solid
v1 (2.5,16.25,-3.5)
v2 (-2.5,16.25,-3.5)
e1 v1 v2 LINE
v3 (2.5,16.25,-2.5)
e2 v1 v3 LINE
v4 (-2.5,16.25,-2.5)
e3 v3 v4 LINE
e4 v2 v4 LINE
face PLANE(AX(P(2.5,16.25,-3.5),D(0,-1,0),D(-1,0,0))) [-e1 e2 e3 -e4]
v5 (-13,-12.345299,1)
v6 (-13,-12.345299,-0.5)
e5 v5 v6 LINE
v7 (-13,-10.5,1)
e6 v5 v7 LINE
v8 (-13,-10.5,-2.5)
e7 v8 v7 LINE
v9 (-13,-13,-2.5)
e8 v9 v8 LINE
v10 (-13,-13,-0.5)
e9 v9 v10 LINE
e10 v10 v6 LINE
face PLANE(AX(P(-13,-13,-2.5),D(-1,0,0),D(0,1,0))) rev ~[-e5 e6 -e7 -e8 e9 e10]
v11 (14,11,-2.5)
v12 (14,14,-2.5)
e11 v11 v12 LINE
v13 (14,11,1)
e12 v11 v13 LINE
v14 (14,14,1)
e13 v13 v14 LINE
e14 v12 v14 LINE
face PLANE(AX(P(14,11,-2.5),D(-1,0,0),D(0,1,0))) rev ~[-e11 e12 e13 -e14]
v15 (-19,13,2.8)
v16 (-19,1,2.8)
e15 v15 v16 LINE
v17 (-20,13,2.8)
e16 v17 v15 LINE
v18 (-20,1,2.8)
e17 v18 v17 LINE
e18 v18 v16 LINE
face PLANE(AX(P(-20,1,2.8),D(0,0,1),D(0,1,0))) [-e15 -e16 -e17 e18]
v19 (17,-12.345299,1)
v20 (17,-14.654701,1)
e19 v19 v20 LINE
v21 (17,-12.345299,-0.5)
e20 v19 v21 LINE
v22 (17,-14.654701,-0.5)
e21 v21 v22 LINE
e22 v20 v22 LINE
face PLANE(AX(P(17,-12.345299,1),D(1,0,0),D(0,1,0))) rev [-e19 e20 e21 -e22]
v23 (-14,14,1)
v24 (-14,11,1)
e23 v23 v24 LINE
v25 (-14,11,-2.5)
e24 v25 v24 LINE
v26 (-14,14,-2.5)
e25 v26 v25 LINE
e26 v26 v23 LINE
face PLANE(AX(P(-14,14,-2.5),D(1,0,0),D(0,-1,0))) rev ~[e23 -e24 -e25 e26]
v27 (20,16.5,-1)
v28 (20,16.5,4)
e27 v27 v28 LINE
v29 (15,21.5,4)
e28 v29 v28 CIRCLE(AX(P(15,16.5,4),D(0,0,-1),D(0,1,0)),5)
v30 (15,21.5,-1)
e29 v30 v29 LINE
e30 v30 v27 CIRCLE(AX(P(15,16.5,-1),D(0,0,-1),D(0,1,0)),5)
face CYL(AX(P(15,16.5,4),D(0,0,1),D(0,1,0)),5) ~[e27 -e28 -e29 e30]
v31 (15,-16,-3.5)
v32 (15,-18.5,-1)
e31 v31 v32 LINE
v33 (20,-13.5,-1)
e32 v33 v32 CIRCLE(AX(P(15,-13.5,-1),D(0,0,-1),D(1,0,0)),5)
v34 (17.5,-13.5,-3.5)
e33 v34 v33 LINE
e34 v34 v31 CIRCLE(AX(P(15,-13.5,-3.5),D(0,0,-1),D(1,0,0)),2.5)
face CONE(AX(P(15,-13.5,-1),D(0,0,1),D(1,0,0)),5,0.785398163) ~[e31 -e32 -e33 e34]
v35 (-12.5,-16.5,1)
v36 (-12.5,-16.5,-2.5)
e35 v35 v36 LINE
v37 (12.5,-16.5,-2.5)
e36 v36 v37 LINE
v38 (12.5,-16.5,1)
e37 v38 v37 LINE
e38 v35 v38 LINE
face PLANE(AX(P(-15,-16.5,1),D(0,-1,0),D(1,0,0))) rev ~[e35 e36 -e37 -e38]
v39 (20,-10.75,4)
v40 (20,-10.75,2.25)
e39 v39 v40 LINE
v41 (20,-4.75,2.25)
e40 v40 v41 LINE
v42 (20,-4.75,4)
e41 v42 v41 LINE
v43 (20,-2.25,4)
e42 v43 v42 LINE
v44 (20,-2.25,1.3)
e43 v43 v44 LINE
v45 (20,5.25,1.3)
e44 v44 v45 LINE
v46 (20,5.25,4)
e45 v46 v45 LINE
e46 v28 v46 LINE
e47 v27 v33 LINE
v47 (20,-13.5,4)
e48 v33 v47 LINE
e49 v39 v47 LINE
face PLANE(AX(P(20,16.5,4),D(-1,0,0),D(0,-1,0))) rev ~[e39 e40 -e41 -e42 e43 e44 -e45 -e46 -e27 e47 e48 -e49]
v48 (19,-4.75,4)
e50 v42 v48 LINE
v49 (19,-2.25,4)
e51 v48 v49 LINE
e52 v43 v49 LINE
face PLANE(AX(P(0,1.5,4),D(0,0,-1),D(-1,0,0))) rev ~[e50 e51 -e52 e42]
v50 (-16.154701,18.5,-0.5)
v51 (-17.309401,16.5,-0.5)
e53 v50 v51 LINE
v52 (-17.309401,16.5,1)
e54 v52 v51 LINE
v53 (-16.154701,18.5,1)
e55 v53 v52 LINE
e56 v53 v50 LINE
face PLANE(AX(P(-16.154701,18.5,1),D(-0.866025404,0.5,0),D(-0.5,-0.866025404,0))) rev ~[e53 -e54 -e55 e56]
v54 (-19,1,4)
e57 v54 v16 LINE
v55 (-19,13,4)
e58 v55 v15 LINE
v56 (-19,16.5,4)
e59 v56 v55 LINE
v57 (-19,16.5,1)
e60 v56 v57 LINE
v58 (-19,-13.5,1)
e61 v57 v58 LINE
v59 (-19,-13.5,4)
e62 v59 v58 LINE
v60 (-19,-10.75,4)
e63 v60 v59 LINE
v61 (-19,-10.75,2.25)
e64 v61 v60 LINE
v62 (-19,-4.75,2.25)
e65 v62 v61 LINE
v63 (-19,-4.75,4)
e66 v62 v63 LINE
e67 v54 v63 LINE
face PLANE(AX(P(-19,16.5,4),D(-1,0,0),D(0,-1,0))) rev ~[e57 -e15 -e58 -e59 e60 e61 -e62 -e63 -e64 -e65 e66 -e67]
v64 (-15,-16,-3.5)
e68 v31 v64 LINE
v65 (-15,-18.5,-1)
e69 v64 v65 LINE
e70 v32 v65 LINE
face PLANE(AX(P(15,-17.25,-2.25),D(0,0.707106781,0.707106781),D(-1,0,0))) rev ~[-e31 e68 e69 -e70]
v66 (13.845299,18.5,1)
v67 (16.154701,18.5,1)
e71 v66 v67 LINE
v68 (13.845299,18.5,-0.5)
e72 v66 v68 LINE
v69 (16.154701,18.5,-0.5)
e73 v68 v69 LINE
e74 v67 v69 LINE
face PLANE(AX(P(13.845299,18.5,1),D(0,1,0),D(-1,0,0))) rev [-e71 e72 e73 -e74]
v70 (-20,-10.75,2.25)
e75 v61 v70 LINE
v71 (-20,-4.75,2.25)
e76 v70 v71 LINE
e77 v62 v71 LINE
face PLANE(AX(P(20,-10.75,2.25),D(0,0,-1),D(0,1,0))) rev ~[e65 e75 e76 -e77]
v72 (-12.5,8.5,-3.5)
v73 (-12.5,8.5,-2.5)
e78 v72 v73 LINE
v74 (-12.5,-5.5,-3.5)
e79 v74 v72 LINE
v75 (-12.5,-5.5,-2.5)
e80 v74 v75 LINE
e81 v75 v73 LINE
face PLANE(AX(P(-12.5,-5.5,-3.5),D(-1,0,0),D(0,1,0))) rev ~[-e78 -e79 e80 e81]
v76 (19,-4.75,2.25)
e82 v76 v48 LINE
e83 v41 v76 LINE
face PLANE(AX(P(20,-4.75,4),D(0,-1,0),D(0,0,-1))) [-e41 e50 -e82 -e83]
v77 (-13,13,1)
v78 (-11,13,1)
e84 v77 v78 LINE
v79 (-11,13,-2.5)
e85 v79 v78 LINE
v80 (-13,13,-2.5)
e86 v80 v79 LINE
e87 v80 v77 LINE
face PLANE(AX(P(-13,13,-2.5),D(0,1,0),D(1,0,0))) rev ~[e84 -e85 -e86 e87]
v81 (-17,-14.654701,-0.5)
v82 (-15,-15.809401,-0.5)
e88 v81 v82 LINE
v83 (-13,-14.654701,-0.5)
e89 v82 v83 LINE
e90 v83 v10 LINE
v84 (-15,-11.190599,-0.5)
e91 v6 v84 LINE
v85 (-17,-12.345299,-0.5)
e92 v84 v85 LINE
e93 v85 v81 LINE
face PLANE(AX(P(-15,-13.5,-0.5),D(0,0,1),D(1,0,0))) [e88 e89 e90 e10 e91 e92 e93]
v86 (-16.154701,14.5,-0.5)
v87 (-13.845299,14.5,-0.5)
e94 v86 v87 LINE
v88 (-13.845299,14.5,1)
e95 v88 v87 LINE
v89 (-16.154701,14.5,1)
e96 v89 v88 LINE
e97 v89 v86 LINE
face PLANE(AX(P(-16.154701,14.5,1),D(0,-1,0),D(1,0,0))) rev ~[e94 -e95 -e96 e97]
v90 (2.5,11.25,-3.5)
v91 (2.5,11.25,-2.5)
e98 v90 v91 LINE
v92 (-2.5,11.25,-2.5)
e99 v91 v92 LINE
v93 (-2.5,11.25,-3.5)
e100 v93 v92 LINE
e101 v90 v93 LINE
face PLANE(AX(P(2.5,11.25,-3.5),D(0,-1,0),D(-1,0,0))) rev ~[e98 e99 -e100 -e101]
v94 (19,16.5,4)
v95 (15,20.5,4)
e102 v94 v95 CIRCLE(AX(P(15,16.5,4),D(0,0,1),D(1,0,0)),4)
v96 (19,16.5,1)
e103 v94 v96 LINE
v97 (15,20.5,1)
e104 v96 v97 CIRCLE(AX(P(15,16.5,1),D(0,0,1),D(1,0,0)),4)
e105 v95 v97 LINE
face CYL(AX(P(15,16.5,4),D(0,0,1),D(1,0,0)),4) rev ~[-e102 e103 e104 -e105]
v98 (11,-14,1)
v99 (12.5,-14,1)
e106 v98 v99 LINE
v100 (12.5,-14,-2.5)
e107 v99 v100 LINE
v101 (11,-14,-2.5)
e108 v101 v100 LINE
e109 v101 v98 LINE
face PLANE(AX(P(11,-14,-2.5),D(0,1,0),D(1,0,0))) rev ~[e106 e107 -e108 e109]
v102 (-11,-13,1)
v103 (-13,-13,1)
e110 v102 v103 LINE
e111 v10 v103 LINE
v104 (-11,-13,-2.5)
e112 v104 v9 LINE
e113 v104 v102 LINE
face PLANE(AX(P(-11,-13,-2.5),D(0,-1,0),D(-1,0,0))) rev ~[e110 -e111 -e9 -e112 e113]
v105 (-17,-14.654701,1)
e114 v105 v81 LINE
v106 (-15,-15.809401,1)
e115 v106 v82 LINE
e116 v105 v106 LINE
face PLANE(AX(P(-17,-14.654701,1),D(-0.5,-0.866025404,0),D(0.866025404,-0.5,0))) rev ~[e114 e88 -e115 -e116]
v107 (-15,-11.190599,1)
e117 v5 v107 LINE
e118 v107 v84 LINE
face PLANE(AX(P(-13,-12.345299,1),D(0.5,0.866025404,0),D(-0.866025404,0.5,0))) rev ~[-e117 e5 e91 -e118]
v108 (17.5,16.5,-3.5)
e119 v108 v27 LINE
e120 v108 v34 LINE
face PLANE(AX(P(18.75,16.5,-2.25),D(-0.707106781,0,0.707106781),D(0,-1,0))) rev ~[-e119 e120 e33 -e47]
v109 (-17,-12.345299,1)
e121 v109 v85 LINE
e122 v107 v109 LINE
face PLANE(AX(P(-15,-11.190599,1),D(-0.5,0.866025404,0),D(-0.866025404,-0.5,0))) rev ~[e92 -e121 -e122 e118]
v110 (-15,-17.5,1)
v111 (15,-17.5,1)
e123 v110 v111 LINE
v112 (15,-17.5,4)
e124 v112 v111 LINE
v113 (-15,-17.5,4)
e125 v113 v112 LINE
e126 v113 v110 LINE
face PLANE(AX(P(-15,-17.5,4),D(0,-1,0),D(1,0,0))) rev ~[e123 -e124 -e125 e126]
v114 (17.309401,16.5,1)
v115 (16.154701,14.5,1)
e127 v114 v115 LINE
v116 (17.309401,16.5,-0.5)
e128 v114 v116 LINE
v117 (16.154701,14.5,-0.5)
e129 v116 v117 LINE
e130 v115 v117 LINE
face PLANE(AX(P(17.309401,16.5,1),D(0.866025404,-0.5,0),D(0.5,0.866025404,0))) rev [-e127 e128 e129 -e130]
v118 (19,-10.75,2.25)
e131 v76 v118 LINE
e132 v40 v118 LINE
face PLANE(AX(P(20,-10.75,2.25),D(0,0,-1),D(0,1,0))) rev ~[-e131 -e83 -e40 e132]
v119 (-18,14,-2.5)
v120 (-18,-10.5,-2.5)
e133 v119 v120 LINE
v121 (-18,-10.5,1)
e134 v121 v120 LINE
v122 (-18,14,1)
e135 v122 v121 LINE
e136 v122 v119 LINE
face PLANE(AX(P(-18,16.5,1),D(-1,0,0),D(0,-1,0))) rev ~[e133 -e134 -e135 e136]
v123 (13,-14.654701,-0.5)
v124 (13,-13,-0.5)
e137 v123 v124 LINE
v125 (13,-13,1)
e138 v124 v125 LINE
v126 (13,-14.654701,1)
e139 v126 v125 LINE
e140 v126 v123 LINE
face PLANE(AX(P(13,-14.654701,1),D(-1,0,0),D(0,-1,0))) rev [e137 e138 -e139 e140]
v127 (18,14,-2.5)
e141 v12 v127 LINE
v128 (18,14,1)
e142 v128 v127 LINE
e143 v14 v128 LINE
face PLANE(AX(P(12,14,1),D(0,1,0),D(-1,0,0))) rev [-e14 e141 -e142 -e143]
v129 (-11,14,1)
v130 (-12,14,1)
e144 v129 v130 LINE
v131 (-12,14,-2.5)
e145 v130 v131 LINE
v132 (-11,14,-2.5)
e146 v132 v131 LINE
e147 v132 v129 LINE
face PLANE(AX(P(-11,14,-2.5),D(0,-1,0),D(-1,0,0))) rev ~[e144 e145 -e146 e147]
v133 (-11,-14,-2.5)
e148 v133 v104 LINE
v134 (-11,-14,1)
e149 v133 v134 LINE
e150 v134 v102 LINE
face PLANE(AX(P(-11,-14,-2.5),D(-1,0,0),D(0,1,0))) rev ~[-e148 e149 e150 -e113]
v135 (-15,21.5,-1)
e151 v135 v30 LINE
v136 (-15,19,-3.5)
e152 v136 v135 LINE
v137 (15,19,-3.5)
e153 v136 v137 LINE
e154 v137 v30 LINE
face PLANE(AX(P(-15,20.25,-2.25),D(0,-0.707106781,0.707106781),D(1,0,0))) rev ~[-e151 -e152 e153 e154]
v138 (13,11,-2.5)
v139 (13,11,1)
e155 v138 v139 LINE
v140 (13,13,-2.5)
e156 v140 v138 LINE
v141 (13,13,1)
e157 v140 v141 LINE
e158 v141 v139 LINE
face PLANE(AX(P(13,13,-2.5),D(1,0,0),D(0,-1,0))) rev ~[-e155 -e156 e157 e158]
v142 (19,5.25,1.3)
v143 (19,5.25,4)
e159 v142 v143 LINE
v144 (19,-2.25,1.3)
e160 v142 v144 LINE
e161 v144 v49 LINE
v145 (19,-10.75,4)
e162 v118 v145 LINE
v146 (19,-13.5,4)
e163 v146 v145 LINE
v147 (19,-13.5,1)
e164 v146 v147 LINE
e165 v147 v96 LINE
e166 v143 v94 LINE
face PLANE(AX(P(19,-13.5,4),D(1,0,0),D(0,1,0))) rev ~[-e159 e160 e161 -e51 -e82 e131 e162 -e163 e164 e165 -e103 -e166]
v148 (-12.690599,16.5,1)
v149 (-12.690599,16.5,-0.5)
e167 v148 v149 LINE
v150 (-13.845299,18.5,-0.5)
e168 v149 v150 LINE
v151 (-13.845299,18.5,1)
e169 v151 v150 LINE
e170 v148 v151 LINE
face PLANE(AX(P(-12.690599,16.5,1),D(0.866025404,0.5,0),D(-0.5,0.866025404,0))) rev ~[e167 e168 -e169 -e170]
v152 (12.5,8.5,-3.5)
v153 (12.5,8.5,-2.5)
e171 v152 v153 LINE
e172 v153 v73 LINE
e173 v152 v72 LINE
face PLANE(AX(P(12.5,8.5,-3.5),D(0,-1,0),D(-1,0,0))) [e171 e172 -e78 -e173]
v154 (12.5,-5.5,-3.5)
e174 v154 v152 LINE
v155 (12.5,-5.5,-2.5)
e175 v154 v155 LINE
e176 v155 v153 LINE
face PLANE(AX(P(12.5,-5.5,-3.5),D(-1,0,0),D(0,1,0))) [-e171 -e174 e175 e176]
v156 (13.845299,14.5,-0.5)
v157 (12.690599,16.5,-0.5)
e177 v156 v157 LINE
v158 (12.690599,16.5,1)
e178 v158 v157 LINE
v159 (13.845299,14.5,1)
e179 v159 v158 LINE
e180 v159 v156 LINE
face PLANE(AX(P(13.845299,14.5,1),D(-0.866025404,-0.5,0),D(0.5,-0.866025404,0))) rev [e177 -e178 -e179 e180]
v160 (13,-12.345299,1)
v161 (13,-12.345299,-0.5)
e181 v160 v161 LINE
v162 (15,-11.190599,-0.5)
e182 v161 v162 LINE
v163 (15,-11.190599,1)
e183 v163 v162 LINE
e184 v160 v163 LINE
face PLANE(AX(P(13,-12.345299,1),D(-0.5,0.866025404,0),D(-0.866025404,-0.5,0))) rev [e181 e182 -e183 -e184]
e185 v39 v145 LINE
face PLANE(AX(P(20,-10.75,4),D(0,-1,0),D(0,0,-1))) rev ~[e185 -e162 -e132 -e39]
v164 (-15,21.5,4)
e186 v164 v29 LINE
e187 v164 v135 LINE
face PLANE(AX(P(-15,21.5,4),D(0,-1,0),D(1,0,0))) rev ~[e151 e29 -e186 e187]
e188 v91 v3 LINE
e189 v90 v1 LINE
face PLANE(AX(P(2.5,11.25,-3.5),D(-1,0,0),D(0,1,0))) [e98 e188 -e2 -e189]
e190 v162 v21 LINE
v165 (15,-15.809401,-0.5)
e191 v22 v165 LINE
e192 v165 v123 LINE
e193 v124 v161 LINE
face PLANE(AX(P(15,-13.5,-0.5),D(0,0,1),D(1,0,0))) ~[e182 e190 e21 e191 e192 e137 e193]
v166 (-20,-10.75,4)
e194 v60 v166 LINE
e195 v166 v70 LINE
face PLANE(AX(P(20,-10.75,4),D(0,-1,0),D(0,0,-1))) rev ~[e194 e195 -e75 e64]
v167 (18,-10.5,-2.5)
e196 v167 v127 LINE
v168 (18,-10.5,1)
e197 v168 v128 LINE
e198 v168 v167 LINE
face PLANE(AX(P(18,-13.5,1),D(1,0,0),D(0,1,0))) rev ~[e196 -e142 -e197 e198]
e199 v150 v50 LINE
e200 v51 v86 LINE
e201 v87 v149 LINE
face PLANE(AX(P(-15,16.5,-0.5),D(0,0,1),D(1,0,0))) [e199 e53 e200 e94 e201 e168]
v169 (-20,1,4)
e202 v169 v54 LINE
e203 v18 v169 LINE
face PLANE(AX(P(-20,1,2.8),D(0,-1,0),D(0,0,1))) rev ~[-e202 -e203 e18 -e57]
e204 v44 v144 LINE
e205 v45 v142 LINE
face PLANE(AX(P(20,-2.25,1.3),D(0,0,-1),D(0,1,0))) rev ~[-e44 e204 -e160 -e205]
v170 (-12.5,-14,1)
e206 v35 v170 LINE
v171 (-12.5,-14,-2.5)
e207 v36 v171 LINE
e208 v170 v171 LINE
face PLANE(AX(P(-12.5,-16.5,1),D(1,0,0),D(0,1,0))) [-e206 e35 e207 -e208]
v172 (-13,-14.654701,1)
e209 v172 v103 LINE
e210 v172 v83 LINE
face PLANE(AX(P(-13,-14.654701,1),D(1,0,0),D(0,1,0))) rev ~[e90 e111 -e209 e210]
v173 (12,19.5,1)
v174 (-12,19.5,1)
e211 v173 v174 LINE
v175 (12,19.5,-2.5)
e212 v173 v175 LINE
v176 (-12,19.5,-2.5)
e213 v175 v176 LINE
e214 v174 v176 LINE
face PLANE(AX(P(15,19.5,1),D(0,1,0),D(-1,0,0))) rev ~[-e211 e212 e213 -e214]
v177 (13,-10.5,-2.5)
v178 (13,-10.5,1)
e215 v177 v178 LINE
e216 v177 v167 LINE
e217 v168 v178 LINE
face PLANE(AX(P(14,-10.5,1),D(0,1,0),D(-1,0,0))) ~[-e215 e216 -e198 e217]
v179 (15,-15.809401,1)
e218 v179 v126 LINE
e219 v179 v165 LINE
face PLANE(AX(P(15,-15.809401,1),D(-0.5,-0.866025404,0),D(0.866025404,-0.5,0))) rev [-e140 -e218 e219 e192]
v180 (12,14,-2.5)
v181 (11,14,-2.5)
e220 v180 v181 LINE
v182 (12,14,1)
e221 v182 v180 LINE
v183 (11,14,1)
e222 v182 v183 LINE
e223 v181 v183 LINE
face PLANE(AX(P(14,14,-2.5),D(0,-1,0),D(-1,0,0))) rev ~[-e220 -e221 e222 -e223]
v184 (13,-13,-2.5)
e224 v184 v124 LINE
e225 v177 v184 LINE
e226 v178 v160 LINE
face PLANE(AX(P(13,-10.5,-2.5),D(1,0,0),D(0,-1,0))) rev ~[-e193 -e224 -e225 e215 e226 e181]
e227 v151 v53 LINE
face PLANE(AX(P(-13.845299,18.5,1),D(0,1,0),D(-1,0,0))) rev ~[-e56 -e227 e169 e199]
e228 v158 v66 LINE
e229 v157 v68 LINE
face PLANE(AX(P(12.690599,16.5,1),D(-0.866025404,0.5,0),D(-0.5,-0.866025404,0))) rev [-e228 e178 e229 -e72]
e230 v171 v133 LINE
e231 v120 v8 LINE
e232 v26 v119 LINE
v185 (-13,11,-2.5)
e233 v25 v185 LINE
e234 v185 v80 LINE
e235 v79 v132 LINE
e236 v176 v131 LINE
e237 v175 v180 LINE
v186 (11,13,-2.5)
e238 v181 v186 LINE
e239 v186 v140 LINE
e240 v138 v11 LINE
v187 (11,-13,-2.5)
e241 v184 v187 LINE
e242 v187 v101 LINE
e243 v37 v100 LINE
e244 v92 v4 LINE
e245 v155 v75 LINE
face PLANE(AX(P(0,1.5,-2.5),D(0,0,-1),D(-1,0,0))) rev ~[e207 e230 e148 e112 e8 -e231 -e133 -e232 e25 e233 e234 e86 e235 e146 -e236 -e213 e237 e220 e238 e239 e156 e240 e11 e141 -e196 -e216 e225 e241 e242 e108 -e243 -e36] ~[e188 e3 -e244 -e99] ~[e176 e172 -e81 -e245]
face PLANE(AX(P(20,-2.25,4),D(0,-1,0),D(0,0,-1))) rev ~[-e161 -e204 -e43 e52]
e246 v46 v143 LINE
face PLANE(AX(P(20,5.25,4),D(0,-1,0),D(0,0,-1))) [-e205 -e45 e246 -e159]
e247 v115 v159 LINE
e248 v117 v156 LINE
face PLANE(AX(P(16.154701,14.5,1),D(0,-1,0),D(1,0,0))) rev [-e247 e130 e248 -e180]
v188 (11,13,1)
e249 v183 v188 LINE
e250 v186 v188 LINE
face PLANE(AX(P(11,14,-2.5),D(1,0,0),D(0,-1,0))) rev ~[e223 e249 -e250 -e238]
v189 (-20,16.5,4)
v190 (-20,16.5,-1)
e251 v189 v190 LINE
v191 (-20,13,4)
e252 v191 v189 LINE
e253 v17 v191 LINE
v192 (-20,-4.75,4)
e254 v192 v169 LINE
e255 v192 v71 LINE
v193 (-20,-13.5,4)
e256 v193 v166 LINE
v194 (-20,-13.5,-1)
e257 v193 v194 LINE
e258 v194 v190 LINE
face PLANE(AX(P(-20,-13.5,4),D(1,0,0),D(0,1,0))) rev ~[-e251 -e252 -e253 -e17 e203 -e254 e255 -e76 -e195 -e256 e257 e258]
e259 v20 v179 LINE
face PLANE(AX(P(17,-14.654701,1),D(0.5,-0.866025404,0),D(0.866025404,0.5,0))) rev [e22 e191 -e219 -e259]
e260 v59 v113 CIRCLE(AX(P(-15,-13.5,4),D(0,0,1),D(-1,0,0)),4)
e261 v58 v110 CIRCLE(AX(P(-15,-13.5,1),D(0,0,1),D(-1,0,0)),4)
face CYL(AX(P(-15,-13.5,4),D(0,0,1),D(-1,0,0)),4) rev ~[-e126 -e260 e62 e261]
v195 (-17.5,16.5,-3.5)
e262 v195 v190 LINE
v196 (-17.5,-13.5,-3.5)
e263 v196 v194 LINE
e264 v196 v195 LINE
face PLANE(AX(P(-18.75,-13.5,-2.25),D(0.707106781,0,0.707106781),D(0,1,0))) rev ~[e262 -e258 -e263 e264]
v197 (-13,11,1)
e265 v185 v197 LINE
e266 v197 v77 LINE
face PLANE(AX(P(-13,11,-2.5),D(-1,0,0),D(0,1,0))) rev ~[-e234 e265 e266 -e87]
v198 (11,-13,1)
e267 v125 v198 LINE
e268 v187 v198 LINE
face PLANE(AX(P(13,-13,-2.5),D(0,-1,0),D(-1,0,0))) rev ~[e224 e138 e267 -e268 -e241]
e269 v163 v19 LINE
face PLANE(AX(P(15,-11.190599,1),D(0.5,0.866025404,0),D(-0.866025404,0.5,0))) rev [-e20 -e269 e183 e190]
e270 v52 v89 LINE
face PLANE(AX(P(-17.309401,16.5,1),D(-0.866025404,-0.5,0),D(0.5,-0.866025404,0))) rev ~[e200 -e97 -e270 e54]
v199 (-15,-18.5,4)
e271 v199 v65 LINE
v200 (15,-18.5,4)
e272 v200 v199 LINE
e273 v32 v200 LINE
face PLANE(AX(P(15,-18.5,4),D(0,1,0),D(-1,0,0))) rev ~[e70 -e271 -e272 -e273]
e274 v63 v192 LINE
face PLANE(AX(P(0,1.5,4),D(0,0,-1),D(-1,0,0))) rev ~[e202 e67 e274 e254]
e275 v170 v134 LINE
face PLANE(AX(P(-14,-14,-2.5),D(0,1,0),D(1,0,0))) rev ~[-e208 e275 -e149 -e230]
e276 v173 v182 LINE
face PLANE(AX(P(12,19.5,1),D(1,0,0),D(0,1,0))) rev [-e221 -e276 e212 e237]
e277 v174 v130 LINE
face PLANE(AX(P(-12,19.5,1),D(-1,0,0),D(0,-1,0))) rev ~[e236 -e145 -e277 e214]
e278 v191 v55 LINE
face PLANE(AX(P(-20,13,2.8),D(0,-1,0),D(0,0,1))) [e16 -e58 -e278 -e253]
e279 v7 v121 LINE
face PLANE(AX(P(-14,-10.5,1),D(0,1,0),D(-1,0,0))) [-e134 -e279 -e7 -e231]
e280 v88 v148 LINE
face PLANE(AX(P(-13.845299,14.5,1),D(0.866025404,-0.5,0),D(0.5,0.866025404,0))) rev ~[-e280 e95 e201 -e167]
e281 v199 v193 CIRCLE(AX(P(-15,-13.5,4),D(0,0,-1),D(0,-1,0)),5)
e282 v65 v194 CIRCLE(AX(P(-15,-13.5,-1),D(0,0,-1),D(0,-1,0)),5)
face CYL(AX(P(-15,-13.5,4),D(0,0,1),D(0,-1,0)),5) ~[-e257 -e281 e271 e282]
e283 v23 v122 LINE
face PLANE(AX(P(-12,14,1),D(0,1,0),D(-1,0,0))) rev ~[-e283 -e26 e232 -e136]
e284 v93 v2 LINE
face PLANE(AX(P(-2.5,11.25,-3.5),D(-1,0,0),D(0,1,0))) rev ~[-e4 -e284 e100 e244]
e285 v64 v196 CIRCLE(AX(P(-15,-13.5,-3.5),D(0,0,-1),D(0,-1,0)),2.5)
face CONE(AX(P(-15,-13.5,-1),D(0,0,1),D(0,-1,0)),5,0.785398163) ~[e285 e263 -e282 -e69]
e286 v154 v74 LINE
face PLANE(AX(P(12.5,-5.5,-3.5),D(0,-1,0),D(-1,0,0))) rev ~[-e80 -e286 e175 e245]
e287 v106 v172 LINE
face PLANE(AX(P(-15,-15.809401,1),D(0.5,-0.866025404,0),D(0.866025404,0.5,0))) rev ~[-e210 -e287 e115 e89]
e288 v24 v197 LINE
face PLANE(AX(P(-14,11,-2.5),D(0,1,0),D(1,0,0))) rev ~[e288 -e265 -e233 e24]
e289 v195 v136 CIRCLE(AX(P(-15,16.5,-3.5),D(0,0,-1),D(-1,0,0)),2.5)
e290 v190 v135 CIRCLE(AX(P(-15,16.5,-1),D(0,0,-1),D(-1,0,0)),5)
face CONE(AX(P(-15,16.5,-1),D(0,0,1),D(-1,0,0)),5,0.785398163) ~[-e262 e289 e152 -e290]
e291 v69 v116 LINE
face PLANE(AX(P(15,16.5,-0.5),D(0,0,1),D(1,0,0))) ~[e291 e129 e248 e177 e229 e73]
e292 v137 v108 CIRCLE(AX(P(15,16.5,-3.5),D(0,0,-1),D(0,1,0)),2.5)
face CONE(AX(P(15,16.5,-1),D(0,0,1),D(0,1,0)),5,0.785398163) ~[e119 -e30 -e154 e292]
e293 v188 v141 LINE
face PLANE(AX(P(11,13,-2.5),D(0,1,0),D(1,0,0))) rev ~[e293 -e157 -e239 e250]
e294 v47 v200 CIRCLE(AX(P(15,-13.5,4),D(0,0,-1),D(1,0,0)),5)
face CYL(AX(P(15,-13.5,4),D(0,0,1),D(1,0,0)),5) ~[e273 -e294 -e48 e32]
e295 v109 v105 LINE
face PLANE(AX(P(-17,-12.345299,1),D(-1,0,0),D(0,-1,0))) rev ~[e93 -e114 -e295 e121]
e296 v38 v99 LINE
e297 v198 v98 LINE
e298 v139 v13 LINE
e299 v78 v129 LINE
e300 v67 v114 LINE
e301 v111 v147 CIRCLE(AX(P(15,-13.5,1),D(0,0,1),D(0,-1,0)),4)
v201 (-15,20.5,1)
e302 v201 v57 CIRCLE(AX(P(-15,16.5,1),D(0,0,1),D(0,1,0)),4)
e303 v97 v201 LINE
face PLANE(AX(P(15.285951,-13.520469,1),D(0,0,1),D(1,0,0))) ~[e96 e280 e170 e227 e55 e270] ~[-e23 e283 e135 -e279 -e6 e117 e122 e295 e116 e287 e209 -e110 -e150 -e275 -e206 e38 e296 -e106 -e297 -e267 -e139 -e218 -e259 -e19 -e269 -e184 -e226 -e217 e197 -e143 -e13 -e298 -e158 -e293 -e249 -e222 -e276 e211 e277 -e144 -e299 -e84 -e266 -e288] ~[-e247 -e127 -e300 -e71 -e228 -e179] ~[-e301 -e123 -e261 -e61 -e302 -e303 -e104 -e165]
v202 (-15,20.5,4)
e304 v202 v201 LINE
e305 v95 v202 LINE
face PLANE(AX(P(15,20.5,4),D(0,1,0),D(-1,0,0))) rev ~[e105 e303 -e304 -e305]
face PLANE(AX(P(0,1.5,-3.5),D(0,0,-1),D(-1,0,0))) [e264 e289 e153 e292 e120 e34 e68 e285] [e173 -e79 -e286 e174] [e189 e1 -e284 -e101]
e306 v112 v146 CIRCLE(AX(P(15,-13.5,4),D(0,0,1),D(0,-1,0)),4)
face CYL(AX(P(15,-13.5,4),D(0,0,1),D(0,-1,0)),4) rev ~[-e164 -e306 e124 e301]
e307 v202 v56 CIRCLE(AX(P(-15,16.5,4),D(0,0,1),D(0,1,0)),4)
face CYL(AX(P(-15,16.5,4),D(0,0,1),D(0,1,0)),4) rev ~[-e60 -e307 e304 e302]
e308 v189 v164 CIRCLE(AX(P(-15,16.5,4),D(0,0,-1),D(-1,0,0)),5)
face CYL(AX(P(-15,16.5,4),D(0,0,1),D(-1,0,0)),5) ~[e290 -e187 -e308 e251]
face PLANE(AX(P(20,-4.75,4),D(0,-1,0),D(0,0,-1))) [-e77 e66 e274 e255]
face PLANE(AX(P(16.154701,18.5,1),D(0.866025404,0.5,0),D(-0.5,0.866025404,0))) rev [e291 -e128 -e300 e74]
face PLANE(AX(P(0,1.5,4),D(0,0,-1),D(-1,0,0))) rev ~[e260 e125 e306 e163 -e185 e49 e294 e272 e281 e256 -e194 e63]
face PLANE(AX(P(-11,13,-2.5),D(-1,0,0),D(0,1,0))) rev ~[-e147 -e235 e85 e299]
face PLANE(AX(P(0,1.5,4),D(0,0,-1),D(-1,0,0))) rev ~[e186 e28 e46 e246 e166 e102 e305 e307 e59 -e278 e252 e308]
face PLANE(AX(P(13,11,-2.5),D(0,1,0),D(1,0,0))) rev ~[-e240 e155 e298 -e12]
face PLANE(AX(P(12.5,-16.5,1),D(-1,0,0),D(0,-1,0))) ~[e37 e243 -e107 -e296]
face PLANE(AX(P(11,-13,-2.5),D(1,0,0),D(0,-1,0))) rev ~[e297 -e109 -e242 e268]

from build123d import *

# Parameters (mm, degrees)
EXTRUDE_1_DEPTH     = 1
SKETCH_3_W          = 25
SKETCH_3_H          = 14
CUT_EXTRUDE_1_DEPTH = 30.381116385
EXTRUDE_START       = 6.5
EXTRUDE_2_DEPTH     = 6.5
EXTRUDE_START_2     = 3.5
EXTRUDE_3_DEPTH     = 3.5
EXTRUDE_4_DEPTH     = 3.5
CHAMFER_1_SIZE      = 2.5
EXTRUDE_5_DEPTH     = 3.5
EXTRUDE_6_DEPTH     = 3.5
CUT_EXTRUDE_2_DEPTH = 1.5
CUT_EXTRUDE_3_DEPTH = 1.5
CUT_EXTRUDE_4_REACH = 47.588
SKETCH_12_W         = 1.75
SKETCH_12_H         = 6
SKETCH_12_W_2       = 2.7
SKETCH_12_H_2       = 7.5
CUT_EXTRUDE_5_REACH = 47.588
SKETCH_13_W         = 1.2
SKETCH_13_H         = 12
SKETCH_14_W         = 5
SKETCH_14_H         = 5
CUT_EXTRUDE_6_DEPTH = 1.5
SKETCH_12_2_W       = 1.75
SKETCH_12_2_H       = 6
CUT_EXTRUDE_7_DEPTH = 46.587827323


with BuildPart() as part:
    # 草圖2 → 填料-伸長1 (new body)
    with BuildSketch(Plane(origin=(0, 0, -2.5), x_dir=(-1, 0, 0), z_dir=(0, 0, -1))):
        with BuildLine():
            Line((-15, -18.5), (15, -18.5))
            ThreePointArc((15, -18.5), (18.535533906, -17.035533906), (20, -13.5))
            Line((20, -13.5), (20, 16.5))
            ThreePointArc((20, 16.5), (18.535533906, 20.035533906), (15, 21.5))
            Line((15, 21.5), (-15, 21.5))
            ThreePointArc((-15, 21.5), (-18.535533906, 20.035533906), (-20, 16.5))
            Line((-20, 16.5), (-20, -13.5))
            ThreePointArc((-20, -13.5), (-18.535533906, -17.035533906), (-15, -18.5))
        make_face()
    extrude(amount=EXTRUDE_1_DEPTH)

    # 草圖3 → 除料-伸長1 (cut, through all)
    with BuildSketch(Plane(origin=(0, 0, -3.5), x_dir=(-1, 0, 0), z_dir=(0, 0, -1))):
        with Locations((0, 1.5)):
            Rectangle(SKETCH_3_W, SKETCH_3_H)
    extrude(amount=-CUT_EXTRUDE_1_DEPTH, mode=Mode.SUBTRACT)

    # 草圖4 → 填料-伸長2 (add)
    with BuildSketch(Plane.XY.offset(-2.5).offset(EXTRUDE_START)):
        with BuildLine():
            Line((15, -18.5), (-15, -18.5))
            ThreePointArc((-15, -18.5), (-18.535533906, -17.035533906), (-20, -13.5))
            Line((-20, -13.5), (-20, 16.5))
            ThreePointArc((-20, 16.5), (-18.535533906, 20.035533906), (-15, 21.5))
            Line((-15, 21.5), (15, 21.5))
            ThreePointArc((15, 21.5), (18.535533906, 20.035533906), (20, 16.5))
            Line((20, 16.5), (20, -13.5))
            ThreePointArc((20, -13.5), (18.535533906, -17.035533906), (15, -18.5))
        make_face()
        with BuildLine():
            Line((19, -13.5), (19, 16.5))
            ThreePointArc((19, 16.5), (17.828427125, 19.328427125), (15, 20.5))
            Line((15, 20.5), (-15, 20.5))
            ThreePointArc((-15, 20.5), (-17.828427125, 19.328427125), (-19, 16.5))
            Line((-19, 16.5), (-19, -13.5))
            ThreePointArc((-19, -13.5), (-17.828427125, -16.328427125), (-15, -17.5))
            Line((-15, -17.5), (15, -17.5))
            ThreePointArc((15, -17.5), (17.828427125, -16.328427125), (19, -13.5))
        make_face(mode=Mode.SUBTRACT)
    extrude(amount=-EXTRUDE_2_DEPTH)

    # 草圖5 → 填料-伸長3 (add)
    with BuildSketch(Plane.XY.offset(-2.5).offset(EXTRUDE_START_2)):
        with BuildLine():
            Line((19, -13.5), (19, 16.5))
            ThreePointArc((19, 16.5), (17.828427125, 19.328427125), (15, 20.5))
            Line((15, 20.5), (-15, 20.5))
            ThreePointArc((-15, 20.5), (-17.828427125, 19.328427125), (-19, 16.5))
            Line((-19, 16.5), (-19, -13.5))
            ThreePointArc((-19, -13.5), (-17.828427125, -16.328427125), (-15, -17.5))
            Line((-15, -17.5), (15, -17.5))
            ThreePointArc((15, -17.5), (17.828427125, -16.328427125), (19, -13.5))
        make_face()
        with BuildLine():
            Line((18, -13.5), (18, 16.5))
            ThreePointArc((18, 16.5), (17.121320344, 18.621320344), (15, 19.5))
            Line((15, 19.5), (-15, 19.5))
            ThreePointArc((-15, 19.5), (-17.121320344, 18.621320344), (-18, 16.5))
            Line((-18, 16.5), (-18, -13.5))
            ThreePointArc((-18, -13.5), (-17.121320344, -15.621320344), (-15, -16.5))
            Line((-15, -16.5), (15, -16.5))
            ThreePointArc((15, -16.5), (17.121320344, -15.621320344), (18, -13.5))
        make_face(mode=Mode.SUBTRACT)
    extrude(amount=-EXTRUDE_3_DEPTH)

    # 草圖6 → 填料-伸長4 (add)
    with BuildSketch(Plane.XY.offset(-2.5)):
        Polygon((14, -14), (14, -10.5), (13, -10.5), (13, -13), (11, -13), (11, -14), align=None)
        Polygon((14, 14), (11, 14), (11, 13), (13, 13), (13, 11), (14, 11), align=None)
        Polygon((-14, 14), (-14, 11), (-13, 11), (-13, 13), (-11, 13), (-11, 14), align=None)
        Polygon((-14, -14), (-11, -14), (-11, -13), (-13, -13), (-13, -10.5), (-14, -10.5), align=None)
    extrude(amount=EXTRUDE_4_DEPTH)

    # 導角1
    chamfer_1_edges = [part.edges().sort_by_distance(p)[0] for p in [
        (18.535533906, -17.035533906, -3.5),
        (0, -18.5, -3.5),
        (-18.535533906, -17.035533906, -3.5),
        (-20, 1.5, -3.5),
        (-18.535533906, 20.035533906, -3.5),
        (0, 21.5, -3.5),
        (18.535533906, 20.035533906, -3.5),
        (20, 1.5, -3.5),
    ]]
    chamfer(chamfer_1_edges, length=CHAMFER_1_SIZE)

    # 草圖7 → 填料-伸長5 (add)
    with BuildSketch(Plane.XY.offset(-2.5).offset(EXTRUDE_START_2)):
        with BuildLine():
            Line((-12, 19.5), (-12, 14))
            Line((-12, 14), (-18, 14))
            Line((-18, 14), (-18, 16.5))
            ThreePointArc((-18, 16.5), (-17.121320344, 18.621320344), (-15, 19.5))
            Line((-15, 19.5), (-12, 19.5))
        make_face()
    extrude_5 = extrude(amount=-EXTRUDE_5_DEPTH)

    # 草圖8 → 填料-伸長6 (add)
    with BuildSketch(Plane.XY.offset(-2.5).offset(EXTRUDE_START_2)):
        with BuildLine():
            Line((-12.5, -16.5), (-12.5, -14))
            Line((-12.5, -14), (-14, -14))
            Line((-14, -14), (-14, -10.5))
            Line((-14, -10.5), (-18, -10.5))
            Line((-18, -10.5), (-18, -13.5))
            ThreePointArc((-18, -13.5), (-17.121320344, -15.621320344), (-15, -16.5))
            Line((-15, -16.5), (-12.5, -16.5))
        make_face()
    extrude_6 = extrude(amount=-EXTRUDE_6_DEPTH)

    # 鏡射2: 填料-伸長5, 填料-伸長6 across plane
    add(extrude_5.mirror(Plane(origin=(0, 0, 0), x_dir=(0, 0, 1), z_dir=(1, 0, 0))))
    add(extrude_6.mirror(Plane(origin=(0, 0, 0), x_dir=(0, 0, 1), z_dir=(1, 0, 0))))

    # 草圖10 → 除料-伸長2 (cut)
    with BuildSketch(Plane.XY.offset(1)):
        Polygon((-15, -15.809401077), (-13, -14.654700538), (-13, -12.345299462), (-15, -11.190598923), (-17, -12.345299462), (-17, -14.654700538), align=None)
    cut_extrude_2 = extrude(amount=-CUT_EXTRUDE_2_DEPTH, mode=Mode.SUBTRACT)

    # 草圖11 → 除料-伸長3 (cut)
    with BuildSketch(Plane.XY.offset(1)):
        Polygon((-17.309401077, 16.5), (-16.154700538, 14.5), (-13.845299462, 14.5), (-12.690598923, 16.5), (-13.845299462, 18.5), (-16.154700538, 18.5), align=None)
    cut_extrude_3 = extrude(amount=-CUT_EXTRUDE_3_DEPTH, mode=Mode.SUBTRACT)

    # 鏡射3: 除料-伸長2, 除料-伸長3 across plane
    add(cut_extrude_2.mirror(Plane(origin=(0, 0, 0), x_dir=(0, 0, 1), z_dir=(1, 0, 0))), mode=Mode.SUBTRACT)
    add(cut_extrude_3.mirror(Plane(origin=(0, 0, 0), x_dir=(0, 0, 1), z_dir=(1, 0, 0))), mode=Mode.SUBTRACT)

    # 草圖12 → 除料-伸長4 (cut, up to next)
    with BuildSketch(Plane(origin=(20, 0, 0), x_dir=(0, 0, -1), z_dir=(1, 0, 0)), mode=Mode.PRIVATE) as cut_extrude_4_sk1:
        with Locations((-3.125, -7.75)):
            Rectangle(SKETCH_12_W, SKETCH_12_H)
    cut_extrude_4_tool1 = extrude(cut_extrude_4_sk1.sketch, amount=-CUT_EXTRUDE_4_REACH, mode=Mode.PRIVATE) & part.part
    # 草圖12 → 除料-伸長4 (cut, up to next)
    with BuildSketch(Plane(origin=(20, 0, 0), x_dir=(0, 0, -1), z_dir=(1, 0, 0)), mode=Mode.PRIVATE) as cut_extrude_4_sk2:
        with Locations((-2.65, 1.5)):
            Rectangle(SKETCH_12_W_2, SKETCH_12_H_2)
    cut_extrude_4_tool2 = extrude(cut_extrude_4_sk2.sketch, amount=-CUT_EXTRUDE_4_REACH, mode=Mode.PRIVATE) & part.part
    add(cut_extrude_4_tool1.solids().sort_by_distance((20, -7.75, 3.125))[0], mode=Mode.SUBTRACT)
    add(cut_extrude_4_tool2.solids().sort_by_distance((20, 1.5, 2.65))[0], mode=Mode.SUBTRACT)

    # 草圖13 → 除料-伸長5 (cut, up to next)
    with BuildSketch(Plane.ZY.offset(20), mode=Mode.PRIVATE) as cut_extrude_5_sk1:
        with Locations((3.4, 7)):
            Rectangle(SKETCH_13_W, SKETCH_13_H)
    cut_extrude_5_tool1 = extrude(cut_extrude_5_sk1.sketch, amount=-CUT_EXTRUDE_5_REACH, mode=Mode.PRIVATE) & part.part
    add(cut_extrude_5_tool1.solids().sort_by_distance((-20, 7, 3.4))[0], mode=Mode.SUBTRACT)

    # 草圖14 → 除料-伸長6 (cut)
    with BuildSketch(Plane(origin=(0, 0, -3.5), x_dir=(-1, 0, 0), z_dir=(0, 0, -1))):
        with Locations((0, 13.75)):
            Rectangle(SKETCH_14_W, SKETCH_14_H)
    extrude(amount=-CUT_EXTRUDE_6_DEPTH, mode=Mode.SUBTRACT)

    # 草圖12<2> → 除料-伸長7 (cut, through all)
    with BuildSketch(Plane(origin=(20, 0, 0), x_dir=(0, 0, -1), z_dir=(1, 0, 0))):
        with Locations((-3.125, -7.75)):
            Rectangle(SKETCH_12_2_W, SKETCH_12_2_H)
    extrude(amount=-CUT_EXTRUDE_7_DEPTH, mode=Mode.SUBTRACT)


solid = part.part
